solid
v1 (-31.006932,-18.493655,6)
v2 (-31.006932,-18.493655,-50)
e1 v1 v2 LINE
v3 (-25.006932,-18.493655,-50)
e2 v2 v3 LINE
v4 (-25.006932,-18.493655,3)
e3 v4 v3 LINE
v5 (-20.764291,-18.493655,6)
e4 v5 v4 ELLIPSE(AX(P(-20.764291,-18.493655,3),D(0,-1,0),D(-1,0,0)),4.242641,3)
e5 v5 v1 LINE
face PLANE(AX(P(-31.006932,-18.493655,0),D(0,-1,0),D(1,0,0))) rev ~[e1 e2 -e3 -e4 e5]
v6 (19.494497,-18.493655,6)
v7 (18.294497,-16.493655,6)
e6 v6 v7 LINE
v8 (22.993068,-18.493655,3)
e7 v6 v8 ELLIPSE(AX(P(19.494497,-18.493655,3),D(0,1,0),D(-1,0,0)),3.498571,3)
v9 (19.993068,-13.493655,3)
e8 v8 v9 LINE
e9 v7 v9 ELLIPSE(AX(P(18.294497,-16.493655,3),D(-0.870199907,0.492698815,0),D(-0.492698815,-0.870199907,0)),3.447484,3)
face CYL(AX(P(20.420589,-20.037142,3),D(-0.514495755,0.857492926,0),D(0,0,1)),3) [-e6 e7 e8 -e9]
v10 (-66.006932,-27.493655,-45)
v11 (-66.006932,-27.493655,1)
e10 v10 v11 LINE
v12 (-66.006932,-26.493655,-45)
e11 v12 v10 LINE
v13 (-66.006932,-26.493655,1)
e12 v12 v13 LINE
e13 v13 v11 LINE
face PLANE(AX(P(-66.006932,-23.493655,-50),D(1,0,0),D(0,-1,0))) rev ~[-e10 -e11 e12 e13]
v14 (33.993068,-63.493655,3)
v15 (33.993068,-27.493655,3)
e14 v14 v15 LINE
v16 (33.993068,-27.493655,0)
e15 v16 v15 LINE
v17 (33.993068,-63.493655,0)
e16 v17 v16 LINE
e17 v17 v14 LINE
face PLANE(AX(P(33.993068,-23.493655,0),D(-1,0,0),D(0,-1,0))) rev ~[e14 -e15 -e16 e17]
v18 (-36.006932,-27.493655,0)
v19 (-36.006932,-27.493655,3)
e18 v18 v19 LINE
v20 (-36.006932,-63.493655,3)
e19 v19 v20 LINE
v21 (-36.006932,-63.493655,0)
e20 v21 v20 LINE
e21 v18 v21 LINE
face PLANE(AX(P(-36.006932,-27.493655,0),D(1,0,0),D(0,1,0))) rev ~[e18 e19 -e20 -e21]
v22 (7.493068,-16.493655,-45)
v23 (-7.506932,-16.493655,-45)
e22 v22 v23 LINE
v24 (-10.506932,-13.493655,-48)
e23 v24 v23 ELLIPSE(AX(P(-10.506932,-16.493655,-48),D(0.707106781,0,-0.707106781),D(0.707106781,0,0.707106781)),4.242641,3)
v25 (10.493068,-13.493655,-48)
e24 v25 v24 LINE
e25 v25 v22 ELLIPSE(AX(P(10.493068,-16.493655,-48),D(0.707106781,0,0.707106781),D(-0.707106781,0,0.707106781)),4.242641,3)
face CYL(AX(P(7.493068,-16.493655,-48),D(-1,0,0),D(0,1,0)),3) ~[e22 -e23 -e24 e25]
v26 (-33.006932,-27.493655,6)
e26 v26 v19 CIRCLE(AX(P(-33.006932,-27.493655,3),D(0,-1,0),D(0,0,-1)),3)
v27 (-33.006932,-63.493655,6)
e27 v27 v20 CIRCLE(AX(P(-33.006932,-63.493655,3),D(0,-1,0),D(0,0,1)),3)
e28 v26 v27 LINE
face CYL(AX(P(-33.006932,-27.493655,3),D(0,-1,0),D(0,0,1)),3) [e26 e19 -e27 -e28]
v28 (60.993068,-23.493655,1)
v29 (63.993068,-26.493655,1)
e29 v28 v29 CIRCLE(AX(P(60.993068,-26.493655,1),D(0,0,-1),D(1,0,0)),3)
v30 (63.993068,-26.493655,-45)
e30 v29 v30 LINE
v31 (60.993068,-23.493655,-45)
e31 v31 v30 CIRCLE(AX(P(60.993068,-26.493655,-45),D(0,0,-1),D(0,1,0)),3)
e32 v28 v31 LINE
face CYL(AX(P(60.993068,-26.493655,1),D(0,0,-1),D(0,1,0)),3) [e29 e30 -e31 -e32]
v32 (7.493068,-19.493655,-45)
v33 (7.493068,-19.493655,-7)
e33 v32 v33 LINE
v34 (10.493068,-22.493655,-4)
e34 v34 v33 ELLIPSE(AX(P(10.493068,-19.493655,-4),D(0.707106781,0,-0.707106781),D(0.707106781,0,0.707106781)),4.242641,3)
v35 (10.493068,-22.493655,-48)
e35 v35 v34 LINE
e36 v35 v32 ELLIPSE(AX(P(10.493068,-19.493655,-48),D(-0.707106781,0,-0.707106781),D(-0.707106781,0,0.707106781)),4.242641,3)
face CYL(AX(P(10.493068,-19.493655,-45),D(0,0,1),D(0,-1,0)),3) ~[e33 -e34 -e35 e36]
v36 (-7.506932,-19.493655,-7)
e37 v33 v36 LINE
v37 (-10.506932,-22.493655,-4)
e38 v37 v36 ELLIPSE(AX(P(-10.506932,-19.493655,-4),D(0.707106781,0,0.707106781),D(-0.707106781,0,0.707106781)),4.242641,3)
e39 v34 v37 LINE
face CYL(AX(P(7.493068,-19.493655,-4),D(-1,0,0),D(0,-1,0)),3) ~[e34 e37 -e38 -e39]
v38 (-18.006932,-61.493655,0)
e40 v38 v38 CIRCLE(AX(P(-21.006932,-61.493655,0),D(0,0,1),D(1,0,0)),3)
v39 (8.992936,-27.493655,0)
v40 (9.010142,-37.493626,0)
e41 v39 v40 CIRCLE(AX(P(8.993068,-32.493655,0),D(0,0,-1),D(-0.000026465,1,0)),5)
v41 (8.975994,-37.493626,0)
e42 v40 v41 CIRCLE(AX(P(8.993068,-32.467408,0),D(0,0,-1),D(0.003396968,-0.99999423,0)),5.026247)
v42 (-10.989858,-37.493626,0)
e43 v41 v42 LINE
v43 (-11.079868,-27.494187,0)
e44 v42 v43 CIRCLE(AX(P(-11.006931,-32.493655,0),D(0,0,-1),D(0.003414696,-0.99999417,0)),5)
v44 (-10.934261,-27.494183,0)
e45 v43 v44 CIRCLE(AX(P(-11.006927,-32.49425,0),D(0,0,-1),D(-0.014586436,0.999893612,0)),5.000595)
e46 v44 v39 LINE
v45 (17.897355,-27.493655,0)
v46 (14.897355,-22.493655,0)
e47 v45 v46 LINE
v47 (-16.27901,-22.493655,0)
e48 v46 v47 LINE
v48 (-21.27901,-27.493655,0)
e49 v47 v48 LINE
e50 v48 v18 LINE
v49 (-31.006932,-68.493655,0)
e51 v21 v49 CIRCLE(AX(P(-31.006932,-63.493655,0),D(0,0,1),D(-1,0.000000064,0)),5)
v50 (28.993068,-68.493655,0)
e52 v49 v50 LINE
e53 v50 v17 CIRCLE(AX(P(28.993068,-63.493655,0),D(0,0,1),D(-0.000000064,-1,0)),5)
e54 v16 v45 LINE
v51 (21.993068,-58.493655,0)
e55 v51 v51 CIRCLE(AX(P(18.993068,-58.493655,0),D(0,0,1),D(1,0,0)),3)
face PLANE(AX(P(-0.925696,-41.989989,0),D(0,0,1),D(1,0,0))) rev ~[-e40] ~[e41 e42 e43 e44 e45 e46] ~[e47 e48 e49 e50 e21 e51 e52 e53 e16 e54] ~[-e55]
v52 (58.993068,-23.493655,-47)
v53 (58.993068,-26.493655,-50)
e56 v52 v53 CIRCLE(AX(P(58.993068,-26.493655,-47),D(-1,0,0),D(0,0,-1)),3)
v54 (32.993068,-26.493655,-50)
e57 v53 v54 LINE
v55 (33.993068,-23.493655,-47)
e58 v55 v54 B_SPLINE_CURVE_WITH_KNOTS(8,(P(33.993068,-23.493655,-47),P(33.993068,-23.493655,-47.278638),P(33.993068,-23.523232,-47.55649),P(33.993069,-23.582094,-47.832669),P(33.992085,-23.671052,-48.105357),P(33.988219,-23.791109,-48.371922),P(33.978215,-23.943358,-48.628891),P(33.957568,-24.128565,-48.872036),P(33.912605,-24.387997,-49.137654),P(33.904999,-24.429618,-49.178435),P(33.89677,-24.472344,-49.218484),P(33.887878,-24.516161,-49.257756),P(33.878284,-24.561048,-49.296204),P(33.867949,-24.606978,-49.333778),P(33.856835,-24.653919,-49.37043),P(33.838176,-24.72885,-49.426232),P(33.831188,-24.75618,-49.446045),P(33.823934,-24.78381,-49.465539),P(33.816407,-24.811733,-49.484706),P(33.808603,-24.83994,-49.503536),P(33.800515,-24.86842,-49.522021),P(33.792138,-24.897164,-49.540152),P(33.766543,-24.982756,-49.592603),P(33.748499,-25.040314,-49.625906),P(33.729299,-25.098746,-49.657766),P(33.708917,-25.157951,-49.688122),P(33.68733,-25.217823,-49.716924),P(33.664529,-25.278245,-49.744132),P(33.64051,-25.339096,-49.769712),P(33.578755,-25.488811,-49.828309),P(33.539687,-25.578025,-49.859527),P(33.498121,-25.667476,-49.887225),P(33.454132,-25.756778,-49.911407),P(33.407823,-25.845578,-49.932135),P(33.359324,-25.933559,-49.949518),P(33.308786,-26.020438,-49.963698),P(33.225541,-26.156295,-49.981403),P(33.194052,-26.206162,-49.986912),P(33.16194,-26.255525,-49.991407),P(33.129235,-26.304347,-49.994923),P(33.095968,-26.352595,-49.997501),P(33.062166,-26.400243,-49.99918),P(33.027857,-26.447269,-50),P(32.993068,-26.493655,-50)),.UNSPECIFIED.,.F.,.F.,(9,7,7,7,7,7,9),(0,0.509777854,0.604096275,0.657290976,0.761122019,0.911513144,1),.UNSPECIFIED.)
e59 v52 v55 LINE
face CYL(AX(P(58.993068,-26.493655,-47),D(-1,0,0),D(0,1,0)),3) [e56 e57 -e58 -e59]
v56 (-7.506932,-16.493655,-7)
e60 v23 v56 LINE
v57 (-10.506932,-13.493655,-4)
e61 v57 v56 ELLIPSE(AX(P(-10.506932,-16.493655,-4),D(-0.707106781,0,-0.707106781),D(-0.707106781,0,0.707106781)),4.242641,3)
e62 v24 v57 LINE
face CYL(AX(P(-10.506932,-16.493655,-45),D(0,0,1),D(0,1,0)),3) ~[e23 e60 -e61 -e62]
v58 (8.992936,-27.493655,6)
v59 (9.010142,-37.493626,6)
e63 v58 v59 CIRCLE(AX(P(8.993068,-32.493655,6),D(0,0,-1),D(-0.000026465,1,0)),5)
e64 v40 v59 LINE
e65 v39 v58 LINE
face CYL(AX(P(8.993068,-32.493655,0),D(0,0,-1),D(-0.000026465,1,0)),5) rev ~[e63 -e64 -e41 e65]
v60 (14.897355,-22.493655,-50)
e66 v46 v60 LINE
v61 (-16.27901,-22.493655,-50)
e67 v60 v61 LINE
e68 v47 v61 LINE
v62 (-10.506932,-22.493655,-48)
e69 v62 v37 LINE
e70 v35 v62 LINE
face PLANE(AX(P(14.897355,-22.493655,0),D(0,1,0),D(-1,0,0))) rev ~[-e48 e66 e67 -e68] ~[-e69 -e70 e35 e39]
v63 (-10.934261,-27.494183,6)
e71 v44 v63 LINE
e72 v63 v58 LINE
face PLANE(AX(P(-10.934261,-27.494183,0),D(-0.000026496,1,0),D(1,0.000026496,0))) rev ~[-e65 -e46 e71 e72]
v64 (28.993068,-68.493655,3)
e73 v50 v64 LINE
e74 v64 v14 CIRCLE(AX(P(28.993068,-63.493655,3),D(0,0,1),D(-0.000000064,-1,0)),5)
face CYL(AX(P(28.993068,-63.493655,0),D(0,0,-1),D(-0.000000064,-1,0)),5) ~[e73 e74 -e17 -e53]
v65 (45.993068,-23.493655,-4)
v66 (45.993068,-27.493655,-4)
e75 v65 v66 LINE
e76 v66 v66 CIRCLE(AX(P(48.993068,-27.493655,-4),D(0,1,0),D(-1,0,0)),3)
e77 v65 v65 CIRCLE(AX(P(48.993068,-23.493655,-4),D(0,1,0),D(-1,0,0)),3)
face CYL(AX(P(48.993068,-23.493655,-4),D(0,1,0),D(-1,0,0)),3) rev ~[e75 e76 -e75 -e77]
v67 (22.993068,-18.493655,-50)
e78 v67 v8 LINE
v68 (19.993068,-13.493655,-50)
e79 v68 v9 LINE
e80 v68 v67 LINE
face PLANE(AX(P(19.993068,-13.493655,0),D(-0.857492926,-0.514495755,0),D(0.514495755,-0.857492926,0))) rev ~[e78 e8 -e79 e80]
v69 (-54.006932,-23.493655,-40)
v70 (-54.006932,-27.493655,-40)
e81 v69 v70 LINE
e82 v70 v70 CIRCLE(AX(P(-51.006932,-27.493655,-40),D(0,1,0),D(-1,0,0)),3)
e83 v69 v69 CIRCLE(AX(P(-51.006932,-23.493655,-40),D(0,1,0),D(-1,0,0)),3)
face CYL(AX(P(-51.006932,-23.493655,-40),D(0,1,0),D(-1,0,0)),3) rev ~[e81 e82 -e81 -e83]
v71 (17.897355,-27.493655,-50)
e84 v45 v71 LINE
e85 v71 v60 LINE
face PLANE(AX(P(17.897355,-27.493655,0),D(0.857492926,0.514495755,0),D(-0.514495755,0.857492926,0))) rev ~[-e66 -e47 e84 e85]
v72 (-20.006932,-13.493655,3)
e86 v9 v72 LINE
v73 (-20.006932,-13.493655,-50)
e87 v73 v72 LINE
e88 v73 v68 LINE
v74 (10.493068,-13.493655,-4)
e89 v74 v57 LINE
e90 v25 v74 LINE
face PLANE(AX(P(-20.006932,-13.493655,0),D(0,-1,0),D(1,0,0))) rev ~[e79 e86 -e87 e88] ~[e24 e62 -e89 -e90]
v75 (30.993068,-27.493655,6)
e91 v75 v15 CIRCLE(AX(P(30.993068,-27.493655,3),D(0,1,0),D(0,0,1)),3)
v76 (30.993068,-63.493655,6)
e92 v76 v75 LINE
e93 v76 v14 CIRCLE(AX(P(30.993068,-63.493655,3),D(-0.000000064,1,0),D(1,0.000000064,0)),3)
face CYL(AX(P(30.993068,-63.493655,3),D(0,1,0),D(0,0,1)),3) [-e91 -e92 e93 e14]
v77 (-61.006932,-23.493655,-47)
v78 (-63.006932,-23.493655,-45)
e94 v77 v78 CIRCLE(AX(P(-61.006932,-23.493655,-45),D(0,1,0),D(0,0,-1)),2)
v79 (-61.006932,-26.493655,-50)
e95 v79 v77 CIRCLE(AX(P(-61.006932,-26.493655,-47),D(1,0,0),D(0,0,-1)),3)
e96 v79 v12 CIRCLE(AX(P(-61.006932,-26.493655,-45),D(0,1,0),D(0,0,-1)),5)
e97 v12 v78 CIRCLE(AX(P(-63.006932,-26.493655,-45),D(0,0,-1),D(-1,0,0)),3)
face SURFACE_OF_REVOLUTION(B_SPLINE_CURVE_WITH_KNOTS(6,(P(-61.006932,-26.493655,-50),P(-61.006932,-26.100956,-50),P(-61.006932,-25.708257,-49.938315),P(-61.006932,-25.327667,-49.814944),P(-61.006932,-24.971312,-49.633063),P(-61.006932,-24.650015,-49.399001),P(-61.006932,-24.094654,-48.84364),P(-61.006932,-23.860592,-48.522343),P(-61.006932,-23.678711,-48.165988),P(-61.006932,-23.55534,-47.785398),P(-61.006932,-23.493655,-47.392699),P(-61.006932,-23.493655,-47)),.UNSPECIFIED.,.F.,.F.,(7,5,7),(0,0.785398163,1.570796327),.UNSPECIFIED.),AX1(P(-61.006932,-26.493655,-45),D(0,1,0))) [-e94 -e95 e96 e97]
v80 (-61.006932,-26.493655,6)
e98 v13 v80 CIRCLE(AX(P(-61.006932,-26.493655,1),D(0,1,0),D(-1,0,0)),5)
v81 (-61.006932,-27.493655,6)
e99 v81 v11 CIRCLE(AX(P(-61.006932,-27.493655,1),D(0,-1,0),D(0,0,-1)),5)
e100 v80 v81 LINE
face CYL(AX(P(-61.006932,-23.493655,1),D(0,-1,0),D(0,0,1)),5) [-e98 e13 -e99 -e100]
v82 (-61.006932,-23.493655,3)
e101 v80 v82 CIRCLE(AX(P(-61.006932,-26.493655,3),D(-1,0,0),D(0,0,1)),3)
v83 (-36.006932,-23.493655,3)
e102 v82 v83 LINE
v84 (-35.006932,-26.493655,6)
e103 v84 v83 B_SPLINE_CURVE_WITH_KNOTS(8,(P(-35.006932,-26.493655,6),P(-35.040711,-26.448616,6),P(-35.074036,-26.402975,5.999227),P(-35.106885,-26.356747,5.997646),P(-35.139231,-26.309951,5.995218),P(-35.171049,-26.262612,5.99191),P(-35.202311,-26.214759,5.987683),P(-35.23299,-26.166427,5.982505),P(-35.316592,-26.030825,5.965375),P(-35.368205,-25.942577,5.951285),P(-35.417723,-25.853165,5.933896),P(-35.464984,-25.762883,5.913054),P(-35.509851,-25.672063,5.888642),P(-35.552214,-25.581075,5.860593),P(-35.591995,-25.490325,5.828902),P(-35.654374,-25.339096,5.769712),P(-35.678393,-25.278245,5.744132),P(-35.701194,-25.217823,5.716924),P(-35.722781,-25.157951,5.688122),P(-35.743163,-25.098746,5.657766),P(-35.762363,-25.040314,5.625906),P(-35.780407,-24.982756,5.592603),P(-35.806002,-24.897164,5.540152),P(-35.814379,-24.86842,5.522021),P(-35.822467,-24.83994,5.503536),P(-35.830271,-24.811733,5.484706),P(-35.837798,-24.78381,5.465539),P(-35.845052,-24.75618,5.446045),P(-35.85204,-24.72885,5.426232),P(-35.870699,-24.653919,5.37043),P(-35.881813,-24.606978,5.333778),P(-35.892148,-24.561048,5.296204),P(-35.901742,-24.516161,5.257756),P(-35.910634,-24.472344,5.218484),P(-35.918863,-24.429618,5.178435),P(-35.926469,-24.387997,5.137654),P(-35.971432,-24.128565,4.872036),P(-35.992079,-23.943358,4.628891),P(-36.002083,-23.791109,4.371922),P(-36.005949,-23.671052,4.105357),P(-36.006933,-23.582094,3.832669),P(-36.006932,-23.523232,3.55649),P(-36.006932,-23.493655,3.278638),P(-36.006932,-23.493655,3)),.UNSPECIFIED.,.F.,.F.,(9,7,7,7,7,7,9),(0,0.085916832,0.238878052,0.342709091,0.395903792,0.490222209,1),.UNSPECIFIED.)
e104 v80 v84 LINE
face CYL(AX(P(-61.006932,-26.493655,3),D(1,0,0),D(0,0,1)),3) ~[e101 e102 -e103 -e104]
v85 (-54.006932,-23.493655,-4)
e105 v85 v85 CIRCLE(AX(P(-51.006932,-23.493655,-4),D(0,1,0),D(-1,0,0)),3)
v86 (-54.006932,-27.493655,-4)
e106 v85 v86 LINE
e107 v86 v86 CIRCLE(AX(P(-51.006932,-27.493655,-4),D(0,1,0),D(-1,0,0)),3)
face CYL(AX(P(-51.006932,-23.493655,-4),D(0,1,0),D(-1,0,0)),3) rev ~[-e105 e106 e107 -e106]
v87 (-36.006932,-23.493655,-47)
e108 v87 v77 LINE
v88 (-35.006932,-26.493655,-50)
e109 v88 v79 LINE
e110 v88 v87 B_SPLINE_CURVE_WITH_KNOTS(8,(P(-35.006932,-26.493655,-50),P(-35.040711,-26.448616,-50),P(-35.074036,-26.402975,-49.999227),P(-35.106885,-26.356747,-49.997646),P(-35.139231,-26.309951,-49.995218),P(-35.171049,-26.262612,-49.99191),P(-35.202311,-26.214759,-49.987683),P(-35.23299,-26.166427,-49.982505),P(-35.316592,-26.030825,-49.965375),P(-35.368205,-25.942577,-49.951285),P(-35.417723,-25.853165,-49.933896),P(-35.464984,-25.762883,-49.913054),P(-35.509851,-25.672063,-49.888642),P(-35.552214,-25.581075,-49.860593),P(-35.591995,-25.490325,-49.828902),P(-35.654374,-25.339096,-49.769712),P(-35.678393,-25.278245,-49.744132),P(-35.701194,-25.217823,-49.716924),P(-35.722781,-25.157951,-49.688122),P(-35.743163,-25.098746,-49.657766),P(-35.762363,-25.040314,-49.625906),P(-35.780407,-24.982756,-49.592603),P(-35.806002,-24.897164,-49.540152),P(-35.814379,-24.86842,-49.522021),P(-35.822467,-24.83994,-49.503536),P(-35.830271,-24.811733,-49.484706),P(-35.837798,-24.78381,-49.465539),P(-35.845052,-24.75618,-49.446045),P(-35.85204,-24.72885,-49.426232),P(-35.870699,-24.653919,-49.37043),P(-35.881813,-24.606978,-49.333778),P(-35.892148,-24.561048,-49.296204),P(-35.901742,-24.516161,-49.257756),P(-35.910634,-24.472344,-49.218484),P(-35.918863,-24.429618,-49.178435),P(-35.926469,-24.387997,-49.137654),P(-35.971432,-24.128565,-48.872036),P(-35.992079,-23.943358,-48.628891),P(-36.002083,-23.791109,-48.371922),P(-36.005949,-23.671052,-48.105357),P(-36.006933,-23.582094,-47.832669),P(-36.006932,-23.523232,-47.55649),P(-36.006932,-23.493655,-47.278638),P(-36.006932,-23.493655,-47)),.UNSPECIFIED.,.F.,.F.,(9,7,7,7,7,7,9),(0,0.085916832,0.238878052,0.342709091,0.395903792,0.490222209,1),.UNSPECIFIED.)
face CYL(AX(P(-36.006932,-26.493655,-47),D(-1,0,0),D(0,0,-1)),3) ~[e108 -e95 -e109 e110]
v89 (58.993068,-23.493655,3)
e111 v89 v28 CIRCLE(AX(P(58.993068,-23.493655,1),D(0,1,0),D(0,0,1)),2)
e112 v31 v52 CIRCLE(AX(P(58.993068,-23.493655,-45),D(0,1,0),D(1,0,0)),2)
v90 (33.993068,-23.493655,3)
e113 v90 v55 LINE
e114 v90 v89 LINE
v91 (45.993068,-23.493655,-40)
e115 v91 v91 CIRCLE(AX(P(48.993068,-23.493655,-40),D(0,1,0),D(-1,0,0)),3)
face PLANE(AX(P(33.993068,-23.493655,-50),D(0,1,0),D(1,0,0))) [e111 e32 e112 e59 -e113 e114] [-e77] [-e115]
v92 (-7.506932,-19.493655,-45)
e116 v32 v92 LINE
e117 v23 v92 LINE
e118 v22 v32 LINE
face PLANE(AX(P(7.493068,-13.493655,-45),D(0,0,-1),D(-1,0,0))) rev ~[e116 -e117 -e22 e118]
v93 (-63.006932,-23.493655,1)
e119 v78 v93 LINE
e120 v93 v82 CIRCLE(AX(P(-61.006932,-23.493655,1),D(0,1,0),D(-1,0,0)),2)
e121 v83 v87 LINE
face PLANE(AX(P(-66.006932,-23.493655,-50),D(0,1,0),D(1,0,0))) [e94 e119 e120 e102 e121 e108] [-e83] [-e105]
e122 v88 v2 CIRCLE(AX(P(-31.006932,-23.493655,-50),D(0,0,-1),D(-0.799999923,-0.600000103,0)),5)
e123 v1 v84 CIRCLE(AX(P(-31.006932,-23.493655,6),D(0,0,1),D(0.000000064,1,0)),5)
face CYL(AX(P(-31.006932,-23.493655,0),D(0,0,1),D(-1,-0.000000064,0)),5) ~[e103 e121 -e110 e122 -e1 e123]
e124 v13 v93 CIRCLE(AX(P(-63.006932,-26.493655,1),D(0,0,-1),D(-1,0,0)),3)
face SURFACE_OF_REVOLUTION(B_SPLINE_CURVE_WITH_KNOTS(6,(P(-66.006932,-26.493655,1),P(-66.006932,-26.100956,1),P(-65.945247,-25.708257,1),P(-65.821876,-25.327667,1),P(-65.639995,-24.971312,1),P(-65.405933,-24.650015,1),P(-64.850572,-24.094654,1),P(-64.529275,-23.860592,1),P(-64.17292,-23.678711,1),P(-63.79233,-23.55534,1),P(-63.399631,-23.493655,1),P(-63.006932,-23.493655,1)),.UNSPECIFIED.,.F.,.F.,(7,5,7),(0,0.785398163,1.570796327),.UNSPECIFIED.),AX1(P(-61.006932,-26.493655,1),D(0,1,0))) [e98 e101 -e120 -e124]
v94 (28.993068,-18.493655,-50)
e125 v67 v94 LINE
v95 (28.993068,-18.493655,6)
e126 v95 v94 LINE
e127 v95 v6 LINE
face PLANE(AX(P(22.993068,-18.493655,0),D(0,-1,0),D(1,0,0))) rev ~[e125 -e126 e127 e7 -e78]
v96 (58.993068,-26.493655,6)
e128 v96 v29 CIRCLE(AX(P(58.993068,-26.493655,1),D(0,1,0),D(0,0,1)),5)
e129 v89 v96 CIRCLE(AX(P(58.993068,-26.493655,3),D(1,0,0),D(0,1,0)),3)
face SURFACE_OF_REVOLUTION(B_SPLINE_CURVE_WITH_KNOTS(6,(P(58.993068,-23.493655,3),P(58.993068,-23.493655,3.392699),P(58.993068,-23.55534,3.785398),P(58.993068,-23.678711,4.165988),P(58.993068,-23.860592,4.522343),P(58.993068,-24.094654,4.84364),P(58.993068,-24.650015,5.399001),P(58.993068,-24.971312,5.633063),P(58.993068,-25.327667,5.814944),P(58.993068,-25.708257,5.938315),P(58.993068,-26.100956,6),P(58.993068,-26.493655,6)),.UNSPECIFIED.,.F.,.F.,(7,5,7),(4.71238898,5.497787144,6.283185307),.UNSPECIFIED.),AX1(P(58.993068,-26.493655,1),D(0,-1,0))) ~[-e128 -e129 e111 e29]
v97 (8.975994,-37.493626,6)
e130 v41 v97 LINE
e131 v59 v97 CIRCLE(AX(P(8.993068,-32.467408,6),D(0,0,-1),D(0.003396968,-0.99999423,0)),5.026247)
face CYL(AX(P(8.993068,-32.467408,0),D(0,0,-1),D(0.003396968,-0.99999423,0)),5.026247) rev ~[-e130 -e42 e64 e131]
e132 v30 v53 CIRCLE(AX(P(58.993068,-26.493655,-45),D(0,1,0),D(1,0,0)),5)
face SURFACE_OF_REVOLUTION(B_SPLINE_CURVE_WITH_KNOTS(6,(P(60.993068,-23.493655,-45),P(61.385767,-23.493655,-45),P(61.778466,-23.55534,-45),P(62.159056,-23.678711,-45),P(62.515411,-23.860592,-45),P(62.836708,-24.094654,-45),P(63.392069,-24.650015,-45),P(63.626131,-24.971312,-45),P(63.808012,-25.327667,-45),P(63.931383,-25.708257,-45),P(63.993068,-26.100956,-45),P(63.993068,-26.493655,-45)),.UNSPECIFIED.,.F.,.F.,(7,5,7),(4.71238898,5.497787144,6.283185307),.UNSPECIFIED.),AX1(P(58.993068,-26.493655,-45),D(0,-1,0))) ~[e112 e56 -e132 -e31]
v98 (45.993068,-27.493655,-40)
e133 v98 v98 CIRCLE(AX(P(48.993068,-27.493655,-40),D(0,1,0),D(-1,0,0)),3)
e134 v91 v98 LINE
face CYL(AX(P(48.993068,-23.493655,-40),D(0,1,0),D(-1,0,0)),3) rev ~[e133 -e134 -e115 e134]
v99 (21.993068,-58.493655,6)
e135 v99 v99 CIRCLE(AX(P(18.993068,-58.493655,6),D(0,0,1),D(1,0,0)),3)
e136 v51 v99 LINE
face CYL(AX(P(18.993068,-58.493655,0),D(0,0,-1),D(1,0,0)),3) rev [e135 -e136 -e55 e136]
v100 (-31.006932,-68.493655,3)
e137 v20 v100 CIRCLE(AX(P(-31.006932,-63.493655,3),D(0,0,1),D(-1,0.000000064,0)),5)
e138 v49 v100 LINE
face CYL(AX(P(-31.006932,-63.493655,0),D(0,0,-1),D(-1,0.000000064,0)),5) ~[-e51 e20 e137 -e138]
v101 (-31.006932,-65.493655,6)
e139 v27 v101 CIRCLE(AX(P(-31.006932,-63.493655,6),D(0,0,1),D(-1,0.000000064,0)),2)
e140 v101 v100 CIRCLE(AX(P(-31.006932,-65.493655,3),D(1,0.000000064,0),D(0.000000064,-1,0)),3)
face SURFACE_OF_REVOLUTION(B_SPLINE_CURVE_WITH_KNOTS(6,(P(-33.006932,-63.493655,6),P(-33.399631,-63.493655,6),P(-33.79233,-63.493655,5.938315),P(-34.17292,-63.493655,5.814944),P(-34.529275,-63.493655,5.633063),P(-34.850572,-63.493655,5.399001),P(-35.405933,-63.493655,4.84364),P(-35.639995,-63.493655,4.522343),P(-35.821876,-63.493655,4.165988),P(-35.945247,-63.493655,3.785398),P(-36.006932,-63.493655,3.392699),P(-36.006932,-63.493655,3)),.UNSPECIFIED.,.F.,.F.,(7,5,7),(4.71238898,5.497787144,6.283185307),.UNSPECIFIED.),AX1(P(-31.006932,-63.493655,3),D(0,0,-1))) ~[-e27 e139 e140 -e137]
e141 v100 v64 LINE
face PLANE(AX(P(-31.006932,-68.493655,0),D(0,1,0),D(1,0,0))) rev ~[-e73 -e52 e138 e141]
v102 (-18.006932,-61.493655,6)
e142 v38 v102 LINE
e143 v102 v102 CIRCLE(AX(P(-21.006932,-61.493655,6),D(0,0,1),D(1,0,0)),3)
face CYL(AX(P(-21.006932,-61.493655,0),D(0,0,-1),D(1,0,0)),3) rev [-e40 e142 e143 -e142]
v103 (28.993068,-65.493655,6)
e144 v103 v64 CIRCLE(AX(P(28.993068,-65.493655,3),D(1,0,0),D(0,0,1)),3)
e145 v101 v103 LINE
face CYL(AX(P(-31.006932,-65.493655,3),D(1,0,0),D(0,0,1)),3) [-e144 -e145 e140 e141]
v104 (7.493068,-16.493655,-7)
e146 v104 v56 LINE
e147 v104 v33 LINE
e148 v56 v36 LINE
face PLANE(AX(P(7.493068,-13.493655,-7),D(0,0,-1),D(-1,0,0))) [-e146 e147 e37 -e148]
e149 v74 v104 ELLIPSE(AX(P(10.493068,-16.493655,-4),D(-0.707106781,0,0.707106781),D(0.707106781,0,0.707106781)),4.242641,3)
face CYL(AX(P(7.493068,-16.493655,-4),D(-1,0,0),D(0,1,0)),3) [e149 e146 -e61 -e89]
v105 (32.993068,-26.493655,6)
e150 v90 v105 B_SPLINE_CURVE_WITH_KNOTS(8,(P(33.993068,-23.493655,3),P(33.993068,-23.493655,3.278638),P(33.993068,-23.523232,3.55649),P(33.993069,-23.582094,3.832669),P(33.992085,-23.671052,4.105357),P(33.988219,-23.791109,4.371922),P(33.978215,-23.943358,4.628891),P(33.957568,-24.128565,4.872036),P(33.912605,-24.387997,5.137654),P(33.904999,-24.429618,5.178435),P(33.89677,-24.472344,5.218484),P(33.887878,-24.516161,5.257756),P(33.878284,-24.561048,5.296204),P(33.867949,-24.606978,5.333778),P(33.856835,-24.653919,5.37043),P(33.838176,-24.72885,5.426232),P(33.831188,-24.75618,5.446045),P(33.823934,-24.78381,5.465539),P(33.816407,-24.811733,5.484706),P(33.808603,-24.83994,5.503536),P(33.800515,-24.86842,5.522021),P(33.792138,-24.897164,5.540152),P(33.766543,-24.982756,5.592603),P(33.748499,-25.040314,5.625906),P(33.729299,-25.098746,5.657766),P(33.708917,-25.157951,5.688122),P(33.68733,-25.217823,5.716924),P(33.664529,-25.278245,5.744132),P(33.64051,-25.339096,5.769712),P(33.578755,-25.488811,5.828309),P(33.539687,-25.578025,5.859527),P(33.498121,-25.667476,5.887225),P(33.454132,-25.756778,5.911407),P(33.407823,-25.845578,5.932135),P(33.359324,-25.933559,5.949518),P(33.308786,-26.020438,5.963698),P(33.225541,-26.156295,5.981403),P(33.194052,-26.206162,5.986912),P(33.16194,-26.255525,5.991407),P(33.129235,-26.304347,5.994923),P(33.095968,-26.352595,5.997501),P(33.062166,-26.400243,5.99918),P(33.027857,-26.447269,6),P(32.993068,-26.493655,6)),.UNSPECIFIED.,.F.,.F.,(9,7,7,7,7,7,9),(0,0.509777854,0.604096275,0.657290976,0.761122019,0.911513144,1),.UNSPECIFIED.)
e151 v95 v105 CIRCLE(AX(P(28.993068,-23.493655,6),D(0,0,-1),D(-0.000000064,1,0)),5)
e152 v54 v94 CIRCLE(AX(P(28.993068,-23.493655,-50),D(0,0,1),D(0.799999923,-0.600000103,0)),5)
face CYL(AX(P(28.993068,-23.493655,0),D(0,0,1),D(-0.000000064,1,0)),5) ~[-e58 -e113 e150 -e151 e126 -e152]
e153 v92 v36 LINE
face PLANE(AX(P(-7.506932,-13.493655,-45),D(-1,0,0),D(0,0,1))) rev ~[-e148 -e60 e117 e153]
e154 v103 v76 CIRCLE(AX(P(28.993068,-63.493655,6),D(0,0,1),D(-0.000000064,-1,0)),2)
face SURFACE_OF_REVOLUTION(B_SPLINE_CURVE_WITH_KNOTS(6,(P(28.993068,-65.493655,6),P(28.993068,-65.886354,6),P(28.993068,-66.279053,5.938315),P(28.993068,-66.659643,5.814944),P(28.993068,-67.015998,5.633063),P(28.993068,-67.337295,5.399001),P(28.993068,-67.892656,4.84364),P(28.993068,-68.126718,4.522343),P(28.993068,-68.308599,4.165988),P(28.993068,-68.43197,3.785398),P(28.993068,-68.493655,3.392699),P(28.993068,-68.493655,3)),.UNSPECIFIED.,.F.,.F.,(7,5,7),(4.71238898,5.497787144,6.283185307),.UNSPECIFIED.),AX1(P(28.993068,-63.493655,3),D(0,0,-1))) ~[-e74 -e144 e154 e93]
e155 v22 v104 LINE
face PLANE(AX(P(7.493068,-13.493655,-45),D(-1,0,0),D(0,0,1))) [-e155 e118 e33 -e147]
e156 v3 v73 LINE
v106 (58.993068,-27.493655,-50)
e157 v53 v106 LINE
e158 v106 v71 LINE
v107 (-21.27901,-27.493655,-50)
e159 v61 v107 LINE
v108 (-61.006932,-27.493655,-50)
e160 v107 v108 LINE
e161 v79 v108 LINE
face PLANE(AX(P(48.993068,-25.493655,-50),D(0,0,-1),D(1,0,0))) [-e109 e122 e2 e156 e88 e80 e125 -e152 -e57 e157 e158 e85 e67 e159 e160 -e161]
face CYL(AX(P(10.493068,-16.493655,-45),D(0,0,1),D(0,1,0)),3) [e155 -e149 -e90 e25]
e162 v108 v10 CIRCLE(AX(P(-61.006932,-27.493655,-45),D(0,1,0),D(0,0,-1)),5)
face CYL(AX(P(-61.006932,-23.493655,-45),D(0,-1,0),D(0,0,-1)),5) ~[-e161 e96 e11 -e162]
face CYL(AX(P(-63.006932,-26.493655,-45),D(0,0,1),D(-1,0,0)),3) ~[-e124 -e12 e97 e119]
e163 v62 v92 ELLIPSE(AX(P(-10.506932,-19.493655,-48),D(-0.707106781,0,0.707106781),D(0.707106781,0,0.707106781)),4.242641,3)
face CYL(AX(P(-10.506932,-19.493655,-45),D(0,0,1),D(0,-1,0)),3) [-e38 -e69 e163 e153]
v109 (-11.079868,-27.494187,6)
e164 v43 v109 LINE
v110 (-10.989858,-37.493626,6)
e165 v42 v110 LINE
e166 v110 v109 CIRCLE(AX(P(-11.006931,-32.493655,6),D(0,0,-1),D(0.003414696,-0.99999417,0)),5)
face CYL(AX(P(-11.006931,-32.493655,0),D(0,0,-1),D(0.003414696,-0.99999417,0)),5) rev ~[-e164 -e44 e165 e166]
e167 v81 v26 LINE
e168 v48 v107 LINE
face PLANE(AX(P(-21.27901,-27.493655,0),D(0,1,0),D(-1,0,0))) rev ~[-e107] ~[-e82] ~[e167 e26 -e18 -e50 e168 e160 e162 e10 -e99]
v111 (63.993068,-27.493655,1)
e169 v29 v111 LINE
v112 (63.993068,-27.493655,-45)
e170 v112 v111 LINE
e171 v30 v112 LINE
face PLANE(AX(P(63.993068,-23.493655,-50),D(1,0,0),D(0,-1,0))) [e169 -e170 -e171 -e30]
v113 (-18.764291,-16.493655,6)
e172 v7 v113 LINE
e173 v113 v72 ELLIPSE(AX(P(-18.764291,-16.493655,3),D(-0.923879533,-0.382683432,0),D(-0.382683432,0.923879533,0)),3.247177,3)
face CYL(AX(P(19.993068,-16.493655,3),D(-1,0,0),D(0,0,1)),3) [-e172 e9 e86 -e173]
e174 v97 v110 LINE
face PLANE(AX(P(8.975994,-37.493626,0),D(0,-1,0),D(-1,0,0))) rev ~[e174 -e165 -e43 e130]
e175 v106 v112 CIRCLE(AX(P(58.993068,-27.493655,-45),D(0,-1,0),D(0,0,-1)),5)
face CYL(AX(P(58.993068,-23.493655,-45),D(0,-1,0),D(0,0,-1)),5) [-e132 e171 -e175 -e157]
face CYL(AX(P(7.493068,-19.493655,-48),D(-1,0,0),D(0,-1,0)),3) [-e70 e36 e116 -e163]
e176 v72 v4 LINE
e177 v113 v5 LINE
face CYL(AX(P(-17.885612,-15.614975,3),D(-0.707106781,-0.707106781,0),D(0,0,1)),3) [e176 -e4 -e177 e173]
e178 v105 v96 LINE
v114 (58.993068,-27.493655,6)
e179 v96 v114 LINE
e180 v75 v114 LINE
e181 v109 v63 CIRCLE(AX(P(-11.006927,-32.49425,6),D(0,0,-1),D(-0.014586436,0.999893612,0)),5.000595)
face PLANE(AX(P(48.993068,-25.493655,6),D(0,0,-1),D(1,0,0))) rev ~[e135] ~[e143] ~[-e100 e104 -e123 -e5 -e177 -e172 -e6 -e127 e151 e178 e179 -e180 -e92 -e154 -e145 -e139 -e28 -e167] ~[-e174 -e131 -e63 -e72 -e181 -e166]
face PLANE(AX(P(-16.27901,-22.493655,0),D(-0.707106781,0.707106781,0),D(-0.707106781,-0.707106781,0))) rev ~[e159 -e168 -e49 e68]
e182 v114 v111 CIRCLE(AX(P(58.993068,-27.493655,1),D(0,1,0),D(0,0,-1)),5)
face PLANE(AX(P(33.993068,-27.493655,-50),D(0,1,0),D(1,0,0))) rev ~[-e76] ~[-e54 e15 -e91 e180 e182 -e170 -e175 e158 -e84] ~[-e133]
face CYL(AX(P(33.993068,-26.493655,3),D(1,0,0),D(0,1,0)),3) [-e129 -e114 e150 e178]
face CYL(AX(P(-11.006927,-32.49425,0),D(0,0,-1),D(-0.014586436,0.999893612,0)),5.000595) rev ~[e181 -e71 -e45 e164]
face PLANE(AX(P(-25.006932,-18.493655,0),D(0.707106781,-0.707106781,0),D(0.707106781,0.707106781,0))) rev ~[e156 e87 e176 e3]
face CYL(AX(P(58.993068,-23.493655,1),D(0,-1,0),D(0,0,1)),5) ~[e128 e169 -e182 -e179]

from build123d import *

# Parameters (mm, degrees)
F0_R     = 3
F1_DEPTH = 6
F3_DEPTH = 50
F4_W     = 15
F4_H     = 38
F5_DEPTH = 25
F6_W     = 30
F6_H     = 4
F7_DEPTH = 56
F8_R     = 3
F9_DEPTH = 25
F10_R    = 5
F11_R    = 3


with BuildPart() as f1:
    # F0 (on Top) → F1 (new body)
    with BuildSketch(Plane.XY):
        with BuildLine():
            ThreePointArc((-31.006932, -18.493655), (-34.542466, -19.958121), (-36.006932, -23.493655))
            Line((-36.006932, -23.493655), (-36.006932, -63.493655))
            ThreePointArc((-36.006932, -63.493655), (-34.542466, -67.029189), (-31.006932, -68.493655))
            Line((-31.006932, -68.493655), (28.993068, -68.493655))
            ThreePointArc((28.993068, -68.493655), (32.528602, -67.029189), (33.993068, -63.493655))
            Line((33.993068, -63.493655), (33.993068, -23.493655))
            ThreePointArc((33.993068, -23.493655), (32.528602, -19.958121), (28.993068, -18.493655))
            Line((28.993068, -18.493655), (22.993068, -18.493655))
            Line((22.993068, -18.493655), (19.993068, -13.493655))
            Line((19.993068, -13.493655), (-20.006932, -13.493655))
            Line((-20.006932, -13.493655), (-25.006932, -18.493655))
            Line((-25.006932, -18.493655), (-31.006932, -18.493655))
        make_face()
        with Locations((-21.006932, -61.493655)):
            Circle(F0_R, mode=Mode.SUBTRACT)
        with Locations((18.993068, -58.493655)):
            Circle(F0_R, mode=Mode.SUBTRACT)
        with BuildLine():
            ThreePointArc((-11.079868, -27.494187), (-11.007064, -27.493655), (-10.934261, -27.494183))
            Line((-10.934261, -27.494183), (8.992936, -27.493655))
            ThreePointArc((8.992936, -27.493655), (13.993061, -32.485052), (9.010142, -37.493626))
            ThreePointArc((9.010142, -37.493626), (8.993068, -37.493655), (8.975994, -37.493626))
            Line((8.975994, -37.493626), (-10.989858, -37.493626))
            ThreePointArc((-10.989858, -37.493626), (-16.006729, -32.538661), (-11.079868, -27.494187))
        make_face(mode=Mode.SUBTRACT)
    extrude(amount=F1_DEPTH)

    # F2 (on face) → F3 (join)
    with BuildSketch(Plane(origin=(0, 0, 0), x_dir=(1, 0, 0), z_dir=(0, 0, -1))):
        with BuildLine():
            Line((22.993068, 18.493655), (28.993068, 18.493655))
            ThreePointArc((28.993068, 18.493655), (32.528602, 19.958121), (33.993068, 23.493655))
            Line((33.993068, 23.493655), (33.993068, 27.493655))
            Line((33.993068, 27.493655), (17.897355, 27.493655))
            Line((17.897355, 27.493655), (14.897355, 22.493655))
            Line((14.897355, 22.493655), (-16.27901, 22.493655))
            Line((-16.27901, 22.493655), (-21.27901, 27.493655))
            Line((-21.27901, 27.493655), (-36.006932, 27.493655))
            Line((-36.006932, 27.493655), (-36.006932, 23.493655))
            ThreePointArc((-36.006932, 23.493655), (-34.542466, 19.958121), (-31.006932, 18.493655))
            Line((-31.006932, 18.493655), (-25.006932, 18.493655))
            Line((-25.006932, 18.493655), (-20.006932, 13.493655))
            Line((-20.006932, 13.493655), (-17.935864, 13.493655))
            Line((-17.935864, 13.493655), (17.162116, 13.493655))
            Line((17.162116, 13.493655), (19.993068, 13.493655))
            Line((19.993068, 13.493655), (22.993068, 18.493655))
        make_face()
    extrude(amount=F3_DEPTH)

    # F4 (on face) → F5 (cut)
    with BuildSketch(Plane(origin=(0, -13.493655, 0), x_dir=(-1, 0, 0), z_dir=(0, 1, 0))):
        with Locations((0.006932, -26)):
            Rectangle(F4_W, F4_H)
    extrude(amount=-F5_DEPTH, mode=Mode.SUBTRACT)

    # F6 (on face) → F7 (join)
    with BuildSketch(Plane(origin=(0, 0, -50), x_dir=(1, 0, 0), z_dir=(0, 0, -1))):
        with Locations((48.993068, 25.493655)):
            Rectangle(F6_W, F6_H)
        with Locations((-51.006932, 25.493655)):
            Rectangle(F6_W, F6_H)
    extrude(amount=-F7_DEPTH)

    # F8 (on face) → F9 (cut)
    with BuildSketch(Plane(origin=(0, -23.493655, 0), x_dir=(-1, 0, 0), z_dir=(0, 1, 0))):
        with Locations((-48.993068, -4)):
            Circle(F8_R)
        with Locations((-48.993068, -40)):
            Circle(F8_R)
        with Locations((51.006932, -4)):
            Circle(F8_R)
        with Locations((51.006932, -40)):
            Circle(F8_R)
    extrude(amount=-F9_DEPTH, mode=Mode.SUBTRACT)

    # F10
    f10_edges = [f1.edges().sort_by_distance(p)[0] for p in [
        (-66.006932, -25.493655, 6),
        (63.993068, -25.493655, 6),
        (-66.006932, -25.493655, -50),
        (63.993068, -25.493655, -50),
    ]]
    fillet(f10_edges, radius=F10_R)

    # F11
    f11_edges = [f1.edges().sort_by_distance(p)[0] for p in [
        (7.493068, -13.493655, -26),
        (-0.006932, -13.493655, -7),
        (-7.506932, -13.493655, -26),
        (-0.006932, -13.493655, -45),
        (7.493068, -22.493655, -26),
        (-0.006932, -22.493655, -7),
        (-7.506932, -22.493655, -26),
        (-0.006932, -22.493655, -45),
        (-36.006932, -45.493655, 6),
        (46.493068, -23.493655, 6),
        (-48.506932, -23.493655, 6),
        (-0.006932, -13.493655, 6),
        (-22.506932, -15.993655, 6),
        (21.493068, -15.993655, 6),
    ]]
    fillet(f11_edges, radius=F11_R)


solid = f1.part
